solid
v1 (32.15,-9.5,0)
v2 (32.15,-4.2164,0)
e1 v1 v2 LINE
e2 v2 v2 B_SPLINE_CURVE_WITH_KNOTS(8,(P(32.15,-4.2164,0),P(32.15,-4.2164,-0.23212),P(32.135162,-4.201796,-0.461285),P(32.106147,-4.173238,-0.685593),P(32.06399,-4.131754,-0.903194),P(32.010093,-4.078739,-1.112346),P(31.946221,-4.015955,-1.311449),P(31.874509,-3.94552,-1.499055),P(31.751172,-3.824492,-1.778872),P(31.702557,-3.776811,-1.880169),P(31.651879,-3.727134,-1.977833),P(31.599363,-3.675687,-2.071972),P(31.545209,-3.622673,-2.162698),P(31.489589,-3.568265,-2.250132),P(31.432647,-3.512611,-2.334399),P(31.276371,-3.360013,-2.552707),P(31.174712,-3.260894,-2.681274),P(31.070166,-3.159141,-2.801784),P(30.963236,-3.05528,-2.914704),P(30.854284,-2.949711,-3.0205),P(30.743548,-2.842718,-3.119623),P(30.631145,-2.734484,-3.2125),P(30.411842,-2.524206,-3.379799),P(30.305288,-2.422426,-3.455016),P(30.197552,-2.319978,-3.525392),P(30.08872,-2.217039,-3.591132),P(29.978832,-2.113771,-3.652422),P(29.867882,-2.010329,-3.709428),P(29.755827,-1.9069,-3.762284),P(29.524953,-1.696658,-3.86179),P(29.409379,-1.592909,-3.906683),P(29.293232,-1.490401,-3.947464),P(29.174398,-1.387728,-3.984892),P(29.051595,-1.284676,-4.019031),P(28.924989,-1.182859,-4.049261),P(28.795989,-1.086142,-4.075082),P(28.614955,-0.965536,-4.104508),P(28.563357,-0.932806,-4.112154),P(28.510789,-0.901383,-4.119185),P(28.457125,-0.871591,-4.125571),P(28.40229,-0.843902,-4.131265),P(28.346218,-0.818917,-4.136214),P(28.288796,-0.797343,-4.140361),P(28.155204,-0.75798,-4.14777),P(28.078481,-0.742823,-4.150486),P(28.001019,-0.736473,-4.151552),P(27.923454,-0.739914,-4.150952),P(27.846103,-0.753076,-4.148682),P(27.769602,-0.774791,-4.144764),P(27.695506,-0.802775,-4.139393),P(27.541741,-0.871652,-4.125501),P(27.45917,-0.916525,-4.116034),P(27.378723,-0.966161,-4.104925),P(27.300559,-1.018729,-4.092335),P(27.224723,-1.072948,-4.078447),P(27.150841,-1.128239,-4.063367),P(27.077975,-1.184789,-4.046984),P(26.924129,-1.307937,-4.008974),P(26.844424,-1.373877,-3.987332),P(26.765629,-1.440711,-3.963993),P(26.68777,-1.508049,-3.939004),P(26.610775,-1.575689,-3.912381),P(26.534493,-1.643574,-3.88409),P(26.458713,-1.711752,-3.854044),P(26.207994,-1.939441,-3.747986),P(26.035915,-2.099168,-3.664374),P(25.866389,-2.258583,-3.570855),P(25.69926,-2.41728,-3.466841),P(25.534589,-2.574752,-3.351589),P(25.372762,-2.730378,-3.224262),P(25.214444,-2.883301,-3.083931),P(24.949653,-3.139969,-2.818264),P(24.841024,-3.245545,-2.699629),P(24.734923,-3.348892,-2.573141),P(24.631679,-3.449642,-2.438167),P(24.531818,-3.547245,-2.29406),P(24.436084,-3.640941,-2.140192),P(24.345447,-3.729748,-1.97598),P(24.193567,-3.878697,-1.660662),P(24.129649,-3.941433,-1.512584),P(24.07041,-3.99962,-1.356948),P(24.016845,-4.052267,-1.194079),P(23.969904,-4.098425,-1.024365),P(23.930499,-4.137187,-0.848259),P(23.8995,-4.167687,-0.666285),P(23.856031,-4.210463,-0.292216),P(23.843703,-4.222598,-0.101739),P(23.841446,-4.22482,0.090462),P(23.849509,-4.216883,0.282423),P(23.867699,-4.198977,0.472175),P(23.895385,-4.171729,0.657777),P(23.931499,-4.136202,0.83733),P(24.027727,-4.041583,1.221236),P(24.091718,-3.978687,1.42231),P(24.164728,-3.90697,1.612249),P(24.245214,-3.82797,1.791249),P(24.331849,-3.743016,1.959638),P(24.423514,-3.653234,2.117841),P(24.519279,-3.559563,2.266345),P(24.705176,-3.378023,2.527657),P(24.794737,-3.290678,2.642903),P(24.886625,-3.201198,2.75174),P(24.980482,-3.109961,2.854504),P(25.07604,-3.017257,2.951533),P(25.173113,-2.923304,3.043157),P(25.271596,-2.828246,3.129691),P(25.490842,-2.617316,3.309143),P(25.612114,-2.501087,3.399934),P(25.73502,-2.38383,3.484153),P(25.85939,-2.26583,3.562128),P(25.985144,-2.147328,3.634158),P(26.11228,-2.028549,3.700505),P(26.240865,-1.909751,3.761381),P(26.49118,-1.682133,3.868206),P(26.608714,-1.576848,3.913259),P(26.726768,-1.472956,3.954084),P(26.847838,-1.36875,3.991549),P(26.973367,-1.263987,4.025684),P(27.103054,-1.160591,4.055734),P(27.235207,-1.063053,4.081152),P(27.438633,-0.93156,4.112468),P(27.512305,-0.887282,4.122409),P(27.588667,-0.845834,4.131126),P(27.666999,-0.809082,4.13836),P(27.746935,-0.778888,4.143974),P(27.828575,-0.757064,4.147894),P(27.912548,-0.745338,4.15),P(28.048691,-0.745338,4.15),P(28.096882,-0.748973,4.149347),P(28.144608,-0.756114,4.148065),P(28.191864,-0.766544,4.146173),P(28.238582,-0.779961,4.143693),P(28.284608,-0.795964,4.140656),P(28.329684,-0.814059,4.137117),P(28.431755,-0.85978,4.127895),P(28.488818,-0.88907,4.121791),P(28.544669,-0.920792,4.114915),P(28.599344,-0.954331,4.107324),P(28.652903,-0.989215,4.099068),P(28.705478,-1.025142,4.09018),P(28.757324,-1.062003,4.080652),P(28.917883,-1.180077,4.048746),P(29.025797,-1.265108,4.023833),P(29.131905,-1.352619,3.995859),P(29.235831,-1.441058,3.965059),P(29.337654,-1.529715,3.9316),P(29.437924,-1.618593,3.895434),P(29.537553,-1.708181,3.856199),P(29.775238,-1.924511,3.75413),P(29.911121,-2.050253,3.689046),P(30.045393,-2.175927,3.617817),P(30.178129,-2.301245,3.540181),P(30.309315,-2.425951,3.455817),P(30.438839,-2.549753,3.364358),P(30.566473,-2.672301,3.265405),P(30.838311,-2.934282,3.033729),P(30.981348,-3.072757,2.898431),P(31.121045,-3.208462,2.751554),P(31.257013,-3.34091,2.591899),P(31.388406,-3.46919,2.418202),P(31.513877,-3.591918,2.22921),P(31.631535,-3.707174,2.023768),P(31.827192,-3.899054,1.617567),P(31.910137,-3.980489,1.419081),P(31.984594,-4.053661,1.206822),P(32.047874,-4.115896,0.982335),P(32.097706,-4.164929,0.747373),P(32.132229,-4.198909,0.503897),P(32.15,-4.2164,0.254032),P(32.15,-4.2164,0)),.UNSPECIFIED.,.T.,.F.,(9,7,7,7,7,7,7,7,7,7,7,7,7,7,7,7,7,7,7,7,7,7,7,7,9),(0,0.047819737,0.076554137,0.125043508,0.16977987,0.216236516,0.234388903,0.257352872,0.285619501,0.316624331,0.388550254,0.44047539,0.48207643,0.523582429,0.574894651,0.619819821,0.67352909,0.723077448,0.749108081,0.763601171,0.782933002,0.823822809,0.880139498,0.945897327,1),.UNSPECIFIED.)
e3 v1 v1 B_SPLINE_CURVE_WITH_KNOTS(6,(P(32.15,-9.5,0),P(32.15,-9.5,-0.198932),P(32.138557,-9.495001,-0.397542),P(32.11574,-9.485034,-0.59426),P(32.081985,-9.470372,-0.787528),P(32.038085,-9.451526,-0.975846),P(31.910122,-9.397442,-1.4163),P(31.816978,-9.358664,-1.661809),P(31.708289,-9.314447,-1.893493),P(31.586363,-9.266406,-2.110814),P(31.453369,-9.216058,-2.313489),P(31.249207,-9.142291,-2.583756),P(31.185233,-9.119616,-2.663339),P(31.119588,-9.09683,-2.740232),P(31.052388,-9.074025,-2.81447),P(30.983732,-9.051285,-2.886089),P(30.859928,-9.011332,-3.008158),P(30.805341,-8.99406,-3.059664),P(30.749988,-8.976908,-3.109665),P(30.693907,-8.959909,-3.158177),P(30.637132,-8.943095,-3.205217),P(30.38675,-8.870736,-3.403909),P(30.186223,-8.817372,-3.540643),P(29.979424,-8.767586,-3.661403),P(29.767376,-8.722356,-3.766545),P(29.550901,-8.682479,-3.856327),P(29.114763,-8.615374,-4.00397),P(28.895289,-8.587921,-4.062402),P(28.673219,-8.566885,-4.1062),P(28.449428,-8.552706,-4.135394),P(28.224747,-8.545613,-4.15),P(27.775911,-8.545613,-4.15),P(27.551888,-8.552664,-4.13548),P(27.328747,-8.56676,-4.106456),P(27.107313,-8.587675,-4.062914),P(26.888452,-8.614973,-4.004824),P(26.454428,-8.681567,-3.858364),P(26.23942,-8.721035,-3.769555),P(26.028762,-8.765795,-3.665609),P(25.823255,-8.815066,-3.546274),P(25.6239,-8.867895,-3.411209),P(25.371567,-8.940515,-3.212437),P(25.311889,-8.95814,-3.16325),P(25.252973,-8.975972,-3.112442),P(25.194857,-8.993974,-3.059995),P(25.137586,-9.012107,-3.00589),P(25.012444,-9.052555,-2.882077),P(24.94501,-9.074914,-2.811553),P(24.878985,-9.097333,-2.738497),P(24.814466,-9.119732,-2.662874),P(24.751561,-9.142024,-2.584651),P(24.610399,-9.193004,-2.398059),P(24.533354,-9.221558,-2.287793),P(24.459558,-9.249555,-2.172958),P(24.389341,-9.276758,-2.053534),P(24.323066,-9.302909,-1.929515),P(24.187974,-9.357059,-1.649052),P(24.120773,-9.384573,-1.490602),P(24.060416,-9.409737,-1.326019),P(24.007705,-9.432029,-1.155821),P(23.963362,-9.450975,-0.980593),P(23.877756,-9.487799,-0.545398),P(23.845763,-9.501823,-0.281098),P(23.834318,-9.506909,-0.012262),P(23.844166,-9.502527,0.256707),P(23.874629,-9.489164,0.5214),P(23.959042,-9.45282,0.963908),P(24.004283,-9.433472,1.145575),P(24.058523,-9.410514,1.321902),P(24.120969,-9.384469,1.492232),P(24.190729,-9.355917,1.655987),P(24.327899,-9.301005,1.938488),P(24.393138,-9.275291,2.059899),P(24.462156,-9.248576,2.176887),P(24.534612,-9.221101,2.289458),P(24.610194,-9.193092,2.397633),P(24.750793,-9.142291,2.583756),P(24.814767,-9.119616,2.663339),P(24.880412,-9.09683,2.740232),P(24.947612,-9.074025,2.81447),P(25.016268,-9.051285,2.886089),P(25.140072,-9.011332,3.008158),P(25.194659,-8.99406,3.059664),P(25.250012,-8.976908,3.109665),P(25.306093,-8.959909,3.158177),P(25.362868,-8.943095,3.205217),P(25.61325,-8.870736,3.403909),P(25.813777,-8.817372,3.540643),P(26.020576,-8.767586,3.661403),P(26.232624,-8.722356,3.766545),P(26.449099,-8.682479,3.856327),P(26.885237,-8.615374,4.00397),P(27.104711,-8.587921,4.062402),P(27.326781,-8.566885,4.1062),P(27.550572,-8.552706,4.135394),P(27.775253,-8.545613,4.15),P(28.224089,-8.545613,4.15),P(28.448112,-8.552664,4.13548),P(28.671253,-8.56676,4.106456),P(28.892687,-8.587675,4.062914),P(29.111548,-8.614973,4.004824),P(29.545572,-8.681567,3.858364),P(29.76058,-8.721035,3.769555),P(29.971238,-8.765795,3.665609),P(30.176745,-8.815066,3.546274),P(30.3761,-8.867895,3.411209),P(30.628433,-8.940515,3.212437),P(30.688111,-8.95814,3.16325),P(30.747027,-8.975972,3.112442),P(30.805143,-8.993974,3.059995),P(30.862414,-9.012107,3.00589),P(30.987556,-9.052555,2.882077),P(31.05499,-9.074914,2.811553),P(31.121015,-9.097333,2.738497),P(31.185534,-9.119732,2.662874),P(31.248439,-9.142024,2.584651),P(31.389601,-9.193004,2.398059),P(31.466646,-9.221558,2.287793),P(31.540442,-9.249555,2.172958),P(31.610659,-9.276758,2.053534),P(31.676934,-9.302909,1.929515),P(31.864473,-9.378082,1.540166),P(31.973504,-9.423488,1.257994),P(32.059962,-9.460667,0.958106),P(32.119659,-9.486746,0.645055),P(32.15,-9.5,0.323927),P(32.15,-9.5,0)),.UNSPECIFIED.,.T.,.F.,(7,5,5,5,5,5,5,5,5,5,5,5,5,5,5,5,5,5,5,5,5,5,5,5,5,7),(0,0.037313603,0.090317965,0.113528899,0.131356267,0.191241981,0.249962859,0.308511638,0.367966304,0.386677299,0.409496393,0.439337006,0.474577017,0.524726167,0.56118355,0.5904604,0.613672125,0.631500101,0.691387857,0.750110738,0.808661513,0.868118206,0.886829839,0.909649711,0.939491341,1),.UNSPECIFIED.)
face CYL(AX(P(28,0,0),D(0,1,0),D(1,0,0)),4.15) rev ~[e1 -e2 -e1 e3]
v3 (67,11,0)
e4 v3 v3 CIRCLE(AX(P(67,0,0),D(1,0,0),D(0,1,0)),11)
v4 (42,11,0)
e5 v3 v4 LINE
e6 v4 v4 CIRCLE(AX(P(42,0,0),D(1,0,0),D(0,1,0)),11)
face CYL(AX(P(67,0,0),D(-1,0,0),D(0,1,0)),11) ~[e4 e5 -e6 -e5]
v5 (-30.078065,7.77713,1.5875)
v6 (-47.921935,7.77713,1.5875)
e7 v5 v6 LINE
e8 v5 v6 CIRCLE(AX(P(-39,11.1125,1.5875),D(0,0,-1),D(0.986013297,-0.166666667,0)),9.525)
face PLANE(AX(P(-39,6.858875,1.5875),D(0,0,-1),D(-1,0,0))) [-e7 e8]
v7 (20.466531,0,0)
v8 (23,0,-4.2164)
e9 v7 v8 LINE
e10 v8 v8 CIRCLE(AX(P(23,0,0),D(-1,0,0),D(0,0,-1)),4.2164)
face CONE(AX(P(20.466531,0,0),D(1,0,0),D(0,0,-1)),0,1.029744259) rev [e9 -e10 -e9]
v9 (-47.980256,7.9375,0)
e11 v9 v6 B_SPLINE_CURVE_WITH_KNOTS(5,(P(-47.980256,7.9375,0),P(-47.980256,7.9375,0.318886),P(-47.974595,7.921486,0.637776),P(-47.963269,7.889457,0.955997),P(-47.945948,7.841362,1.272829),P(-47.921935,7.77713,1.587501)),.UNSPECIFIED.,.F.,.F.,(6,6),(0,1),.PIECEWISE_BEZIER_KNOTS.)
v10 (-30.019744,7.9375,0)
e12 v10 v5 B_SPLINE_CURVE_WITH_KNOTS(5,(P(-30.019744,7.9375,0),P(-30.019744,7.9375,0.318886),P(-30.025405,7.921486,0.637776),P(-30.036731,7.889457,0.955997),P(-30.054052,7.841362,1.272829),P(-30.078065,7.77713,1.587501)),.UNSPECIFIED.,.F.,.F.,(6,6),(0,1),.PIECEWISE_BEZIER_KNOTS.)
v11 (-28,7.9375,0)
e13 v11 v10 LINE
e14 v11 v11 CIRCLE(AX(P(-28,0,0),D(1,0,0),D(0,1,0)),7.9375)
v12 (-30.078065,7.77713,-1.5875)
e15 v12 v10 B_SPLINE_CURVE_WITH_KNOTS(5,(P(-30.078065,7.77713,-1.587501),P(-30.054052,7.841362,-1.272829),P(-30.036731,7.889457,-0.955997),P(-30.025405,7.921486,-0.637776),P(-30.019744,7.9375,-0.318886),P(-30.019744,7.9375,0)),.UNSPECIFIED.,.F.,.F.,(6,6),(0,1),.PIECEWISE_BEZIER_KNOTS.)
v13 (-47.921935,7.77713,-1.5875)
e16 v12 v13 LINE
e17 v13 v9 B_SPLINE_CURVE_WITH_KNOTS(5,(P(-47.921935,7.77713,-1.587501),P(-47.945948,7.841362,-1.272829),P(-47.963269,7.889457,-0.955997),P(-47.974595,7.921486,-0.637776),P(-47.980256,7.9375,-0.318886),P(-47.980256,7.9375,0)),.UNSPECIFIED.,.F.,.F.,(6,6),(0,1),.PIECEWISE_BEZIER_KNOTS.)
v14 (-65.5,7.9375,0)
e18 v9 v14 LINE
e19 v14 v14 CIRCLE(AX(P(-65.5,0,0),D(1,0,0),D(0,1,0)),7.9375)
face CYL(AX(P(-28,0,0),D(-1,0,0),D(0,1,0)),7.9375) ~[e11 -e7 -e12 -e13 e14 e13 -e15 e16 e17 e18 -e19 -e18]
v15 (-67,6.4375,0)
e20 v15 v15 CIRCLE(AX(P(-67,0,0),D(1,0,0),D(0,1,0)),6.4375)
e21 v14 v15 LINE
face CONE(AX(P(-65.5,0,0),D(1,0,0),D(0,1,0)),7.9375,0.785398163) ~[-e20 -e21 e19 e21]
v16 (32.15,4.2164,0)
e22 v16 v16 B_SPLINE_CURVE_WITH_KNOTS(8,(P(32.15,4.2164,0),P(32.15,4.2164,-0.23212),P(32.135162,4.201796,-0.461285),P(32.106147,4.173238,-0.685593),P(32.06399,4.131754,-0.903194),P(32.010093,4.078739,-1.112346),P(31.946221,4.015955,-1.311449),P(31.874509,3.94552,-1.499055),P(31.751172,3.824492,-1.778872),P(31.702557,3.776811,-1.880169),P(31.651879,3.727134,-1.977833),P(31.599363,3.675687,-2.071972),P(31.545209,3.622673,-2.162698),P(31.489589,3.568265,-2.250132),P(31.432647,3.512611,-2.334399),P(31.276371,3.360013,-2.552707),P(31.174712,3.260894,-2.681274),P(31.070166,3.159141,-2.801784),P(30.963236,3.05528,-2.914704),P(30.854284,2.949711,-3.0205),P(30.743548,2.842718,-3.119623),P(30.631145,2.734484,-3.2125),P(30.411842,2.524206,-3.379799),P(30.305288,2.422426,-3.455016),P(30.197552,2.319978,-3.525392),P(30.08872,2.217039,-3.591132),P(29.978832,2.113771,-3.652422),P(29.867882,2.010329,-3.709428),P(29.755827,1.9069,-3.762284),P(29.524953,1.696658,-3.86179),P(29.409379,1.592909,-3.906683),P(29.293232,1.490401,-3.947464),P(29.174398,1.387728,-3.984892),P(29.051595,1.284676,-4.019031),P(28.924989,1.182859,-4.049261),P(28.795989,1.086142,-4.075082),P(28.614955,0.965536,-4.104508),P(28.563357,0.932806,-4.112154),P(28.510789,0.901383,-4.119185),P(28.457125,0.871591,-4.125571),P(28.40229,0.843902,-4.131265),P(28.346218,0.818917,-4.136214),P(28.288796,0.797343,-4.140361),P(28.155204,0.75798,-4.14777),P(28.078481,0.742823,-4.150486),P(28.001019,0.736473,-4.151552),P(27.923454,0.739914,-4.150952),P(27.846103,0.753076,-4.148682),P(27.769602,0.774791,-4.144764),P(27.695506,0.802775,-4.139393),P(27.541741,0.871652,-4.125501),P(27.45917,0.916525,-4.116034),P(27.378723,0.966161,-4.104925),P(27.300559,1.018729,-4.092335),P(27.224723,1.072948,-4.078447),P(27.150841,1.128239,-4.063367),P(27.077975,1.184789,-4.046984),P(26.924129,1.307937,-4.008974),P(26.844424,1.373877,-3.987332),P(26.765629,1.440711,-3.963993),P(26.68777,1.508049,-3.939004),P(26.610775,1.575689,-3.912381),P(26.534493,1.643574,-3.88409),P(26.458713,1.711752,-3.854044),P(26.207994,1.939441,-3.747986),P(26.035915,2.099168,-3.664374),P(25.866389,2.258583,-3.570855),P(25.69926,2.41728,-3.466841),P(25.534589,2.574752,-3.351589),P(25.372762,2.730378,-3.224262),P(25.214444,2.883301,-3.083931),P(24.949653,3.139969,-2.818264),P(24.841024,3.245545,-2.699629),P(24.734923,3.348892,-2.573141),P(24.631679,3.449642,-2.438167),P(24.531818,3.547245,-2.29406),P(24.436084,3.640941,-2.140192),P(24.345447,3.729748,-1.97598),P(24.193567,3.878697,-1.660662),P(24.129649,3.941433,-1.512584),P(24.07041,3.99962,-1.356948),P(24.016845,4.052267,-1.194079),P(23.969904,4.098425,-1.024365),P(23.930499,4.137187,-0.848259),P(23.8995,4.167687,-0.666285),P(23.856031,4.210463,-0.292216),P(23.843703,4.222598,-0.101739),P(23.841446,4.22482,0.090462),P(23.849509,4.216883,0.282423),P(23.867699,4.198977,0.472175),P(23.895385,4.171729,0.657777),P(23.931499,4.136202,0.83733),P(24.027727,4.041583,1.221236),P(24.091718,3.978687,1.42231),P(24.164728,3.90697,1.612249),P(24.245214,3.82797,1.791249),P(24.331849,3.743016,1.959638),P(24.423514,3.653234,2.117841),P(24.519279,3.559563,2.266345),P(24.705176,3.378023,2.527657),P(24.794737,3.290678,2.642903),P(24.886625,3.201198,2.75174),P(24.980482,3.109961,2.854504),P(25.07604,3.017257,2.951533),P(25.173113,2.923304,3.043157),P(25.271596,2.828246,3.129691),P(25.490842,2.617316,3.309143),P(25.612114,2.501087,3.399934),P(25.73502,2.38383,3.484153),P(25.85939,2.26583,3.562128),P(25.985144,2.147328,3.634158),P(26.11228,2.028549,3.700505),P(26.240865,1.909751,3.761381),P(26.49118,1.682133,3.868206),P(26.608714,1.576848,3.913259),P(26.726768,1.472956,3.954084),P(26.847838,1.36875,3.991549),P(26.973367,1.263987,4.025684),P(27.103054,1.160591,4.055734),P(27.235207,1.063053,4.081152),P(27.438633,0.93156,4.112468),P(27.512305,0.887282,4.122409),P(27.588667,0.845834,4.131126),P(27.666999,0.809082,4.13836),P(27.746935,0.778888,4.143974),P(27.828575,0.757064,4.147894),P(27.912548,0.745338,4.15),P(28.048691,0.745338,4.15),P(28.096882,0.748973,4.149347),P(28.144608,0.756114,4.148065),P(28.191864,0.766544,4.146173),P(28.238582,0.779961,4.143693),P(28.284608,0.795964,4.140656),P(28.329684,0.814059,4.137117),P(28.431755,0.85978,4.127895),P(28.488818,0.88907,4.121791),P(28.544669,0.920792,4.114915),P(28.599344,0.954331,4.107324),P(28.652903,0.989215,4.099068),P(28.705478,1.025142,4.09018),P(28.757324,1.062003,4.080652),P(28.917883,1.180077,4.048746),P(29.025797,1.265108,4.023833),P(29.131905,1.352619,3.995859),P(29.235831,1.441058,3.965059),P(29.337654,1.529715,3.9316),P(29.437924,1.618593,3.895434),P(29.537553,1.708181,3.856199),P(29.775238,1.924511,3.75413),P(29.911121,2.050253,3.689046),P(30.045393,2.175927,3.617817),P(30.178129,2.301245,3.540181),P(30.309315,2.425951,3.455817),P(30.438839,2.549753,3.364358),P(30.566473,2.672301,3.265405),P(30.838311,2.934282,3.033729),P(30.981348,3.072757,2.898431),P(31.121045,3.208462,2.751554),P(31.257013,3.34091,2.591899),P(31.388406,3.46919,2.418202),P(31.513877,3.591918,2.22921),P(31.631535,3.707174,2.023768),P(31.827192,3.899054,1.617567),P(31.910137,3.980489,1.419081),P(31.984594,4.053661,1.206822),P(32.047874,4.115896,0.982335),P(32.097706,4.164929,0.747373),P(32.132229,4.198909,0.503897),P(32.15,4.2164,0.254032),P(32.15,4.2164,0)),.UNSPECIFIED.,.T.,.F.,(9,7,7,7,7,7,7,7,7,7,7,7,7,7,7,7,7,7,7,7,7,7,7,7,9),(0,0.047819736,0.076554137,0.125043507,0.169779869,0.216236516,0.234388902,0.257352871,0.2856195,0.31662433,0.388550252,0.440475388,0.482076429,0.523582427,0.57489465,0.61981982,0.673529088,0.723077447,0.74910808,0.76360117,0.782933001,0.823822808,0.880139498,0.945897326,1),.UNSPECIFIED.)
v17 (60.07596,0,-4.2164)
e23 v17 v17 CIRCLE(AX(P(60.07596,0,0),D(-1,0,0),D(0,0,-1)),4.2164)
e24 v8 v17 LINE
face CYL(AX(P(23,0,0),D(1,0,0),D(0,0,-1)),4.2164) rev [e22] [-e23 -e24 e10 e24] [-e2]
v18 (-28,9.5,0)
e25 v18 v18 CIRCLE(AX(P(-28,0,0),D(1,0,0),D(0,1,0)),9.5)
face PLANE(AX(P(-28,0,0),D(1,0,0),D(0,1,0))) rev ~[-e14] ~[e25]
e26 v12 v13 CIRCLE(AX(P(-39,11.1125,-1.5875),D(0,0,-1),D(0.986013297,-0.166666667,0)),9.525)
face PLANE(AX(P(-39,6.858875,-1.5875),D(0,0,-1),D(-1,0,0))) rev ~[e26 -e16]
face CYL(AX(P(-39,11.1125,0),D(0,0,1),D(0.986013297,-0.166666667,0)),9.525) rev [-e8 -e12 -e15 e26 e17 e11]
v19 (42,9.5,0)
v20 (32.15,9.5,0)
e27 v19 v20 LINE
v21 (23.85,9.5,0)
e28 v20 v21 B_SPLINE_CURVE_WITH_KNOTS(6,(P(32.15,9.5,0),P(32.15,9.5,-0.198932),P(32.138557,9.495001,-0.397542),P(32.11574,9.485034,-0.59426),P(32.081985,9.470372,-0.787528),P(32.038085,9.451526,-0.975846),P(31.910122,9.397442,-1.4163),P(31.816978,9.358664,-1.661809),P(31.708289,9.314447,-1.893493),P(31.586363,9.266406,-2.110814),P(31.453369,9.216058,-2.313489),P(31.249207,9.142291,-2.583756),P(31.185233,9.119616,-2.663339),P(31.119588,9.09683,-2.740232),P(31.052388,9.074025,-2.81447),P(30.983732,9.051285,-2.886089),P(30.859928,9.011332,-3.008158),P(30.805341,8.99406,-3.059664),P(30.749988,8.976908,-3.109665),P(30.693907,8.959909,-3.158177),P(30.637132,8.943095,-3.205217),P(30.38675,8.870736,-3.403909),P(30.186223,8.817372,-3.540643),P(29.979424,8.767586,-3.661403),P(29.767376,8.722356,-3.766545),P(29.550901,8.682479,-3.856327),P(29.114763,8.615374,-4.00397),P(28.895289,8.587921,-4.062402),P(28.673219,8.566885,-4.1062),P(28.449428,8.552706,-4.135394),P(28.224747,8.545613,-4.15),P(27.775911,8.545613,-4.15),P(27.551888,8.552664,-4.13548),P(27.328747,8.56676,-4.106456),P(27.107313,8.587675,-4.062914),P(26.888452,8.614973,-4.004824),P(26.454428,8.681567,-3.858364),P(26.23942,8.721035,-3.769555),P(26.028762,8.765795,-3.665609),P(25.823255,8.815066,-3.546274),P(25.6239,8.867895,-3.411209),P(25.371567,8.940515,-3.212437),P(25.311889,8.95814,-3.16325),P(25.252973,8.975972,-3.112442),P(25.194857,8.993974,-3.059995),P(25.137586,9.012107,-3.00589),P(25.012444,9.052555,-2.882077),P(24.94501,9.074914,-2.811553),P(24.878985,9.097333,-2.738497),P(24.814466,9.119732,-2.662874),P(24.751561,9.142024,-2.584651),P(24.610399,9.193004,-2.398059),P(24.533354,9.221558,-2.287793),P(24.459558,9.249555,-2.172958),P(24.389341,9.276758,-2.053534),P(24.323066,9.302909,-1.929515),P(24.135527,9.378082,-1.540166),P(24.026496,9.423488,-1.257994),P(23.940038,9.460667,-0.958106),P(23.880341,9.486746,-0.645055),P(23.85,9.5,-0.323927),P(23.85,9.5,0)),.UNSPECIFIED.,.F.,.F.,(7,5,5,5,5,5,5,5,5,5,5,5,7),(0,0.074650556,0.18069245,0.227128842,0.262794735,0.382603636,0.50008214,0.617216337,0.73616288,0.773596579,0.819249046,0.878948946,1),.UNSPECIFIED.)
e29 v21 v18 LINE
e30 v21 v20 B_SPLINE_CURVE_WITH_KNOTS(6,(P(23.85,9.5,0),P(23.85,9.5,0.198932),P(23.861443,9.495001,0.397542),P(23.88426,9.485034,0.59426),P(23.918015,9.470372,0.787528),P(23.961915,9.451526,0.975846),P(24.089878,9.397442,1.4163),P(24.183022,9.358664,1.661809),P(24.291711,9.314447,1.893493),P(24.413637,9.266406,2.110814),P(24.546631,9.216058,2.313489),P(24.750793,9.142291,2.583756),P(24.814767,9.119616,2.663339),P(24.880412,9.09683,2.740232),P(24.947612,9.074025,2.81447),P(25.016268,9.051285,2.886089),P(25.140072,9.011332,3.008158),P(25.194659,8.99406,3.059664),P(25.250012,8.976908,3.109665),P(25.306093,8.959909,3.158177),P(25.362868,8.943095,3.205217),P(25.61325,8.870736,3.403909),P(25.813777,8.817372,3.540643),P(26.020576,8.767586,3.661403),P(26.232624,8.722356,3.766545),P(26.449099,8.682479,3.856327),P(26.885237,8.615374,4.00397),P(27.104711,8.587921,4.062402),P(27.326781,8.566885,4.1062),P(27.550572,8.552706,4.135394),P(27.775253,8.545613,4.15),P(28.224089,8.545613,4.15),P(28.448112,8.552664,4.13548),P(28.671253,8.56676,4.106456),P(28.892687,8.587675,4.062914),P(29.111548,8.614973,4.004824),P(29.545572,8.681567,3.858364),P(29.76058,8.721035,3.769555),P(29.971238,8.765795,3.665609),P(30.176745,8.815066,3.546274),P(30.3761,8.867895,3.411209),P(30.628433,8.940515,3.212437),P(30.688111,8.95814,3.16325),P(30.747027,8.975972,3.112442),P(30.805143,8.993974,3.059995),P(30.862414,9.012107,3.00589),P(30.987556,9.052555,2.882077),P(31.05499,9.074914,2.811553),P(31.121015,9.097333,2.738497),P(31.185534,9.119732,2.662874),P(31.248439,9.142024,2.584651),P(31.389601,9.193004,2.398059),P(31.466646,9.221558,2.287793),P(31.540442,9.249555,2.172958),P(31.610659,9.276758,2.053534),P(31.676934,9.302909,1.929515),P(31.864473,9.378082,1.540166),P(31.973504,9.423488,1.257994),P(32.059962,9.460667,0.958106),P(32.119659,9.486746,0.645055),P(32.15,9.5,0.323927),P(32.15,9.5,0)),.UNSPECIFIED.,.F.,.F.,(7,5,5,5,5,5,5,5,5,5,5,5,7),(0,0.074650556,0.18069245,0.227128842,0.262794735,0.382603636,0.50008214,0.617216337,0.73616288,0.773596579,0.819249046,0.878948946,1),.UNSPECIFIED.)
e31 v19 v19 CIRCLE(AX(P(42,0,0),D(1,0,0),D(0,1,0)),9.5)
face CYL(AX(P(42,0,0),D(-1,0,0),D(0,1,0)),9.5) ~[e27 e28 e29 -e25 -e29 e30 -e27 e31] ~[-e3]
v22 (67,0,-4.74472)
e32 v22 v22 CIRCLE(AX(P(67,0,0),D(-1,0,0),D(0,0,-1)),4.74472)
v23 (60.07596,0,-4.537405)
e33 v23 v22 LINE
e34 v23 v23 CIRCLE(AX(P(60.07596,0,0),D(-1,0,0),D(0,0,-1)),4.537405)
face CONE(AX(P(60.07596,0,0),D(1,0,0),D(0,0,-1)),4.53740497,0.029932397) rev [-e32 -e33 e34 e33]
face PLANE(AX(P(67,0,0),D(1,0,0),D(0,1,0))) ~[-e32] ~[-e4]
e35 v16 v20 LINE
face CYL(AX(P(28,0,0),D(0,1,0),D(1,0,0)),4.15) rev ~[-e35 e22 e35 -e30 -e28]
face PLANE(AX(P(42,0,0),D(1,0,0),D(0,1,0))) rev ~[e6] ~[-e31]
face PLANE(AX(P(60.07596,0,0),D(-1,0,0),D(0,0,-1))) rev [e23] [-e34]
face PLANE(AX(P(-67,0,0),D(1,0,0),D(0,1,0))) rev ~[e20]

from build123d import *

# Parameters (mm, degrees)
SKETCH4_R          = 4.15
CUT_EXTRUDE1_DEPTH = 15
CHAMFER1_SIZE      = 1.5
CUT_EXTRUDE2_DEPTH = 1.5875


with BuildPart() as part:
    # Sketch1 → Revolve1 (revolve)
    with BuildSketch(Plane.XY):
        Polygon((-67, 0), (67, 0), (67, 11), (42, 11), (42, 9.5), (-28, 9.5), (-28, 7.9375), (-67, 7.9375), align=None)
    revolve(axis=Axis((-84.93546187, 0, 0), (1, 0, 0)))

    # Sketch2 → 1/8 NPT Tapped Hole1 (revolve, cut)
    with BuildSketch(Plane(origin=(67, 0, 0), x_dir=(0, 0, -1), z_dir=(0, 1, 0))):
        Polygon((0, 0), (0, 46.533468714), (4.2164, 44), (4.2164, 6.92404), (4.53740497, 6.92404), (4.74472, 0), align=None)
    revolve(axis=Axis((73.35, 0, 0), (-1, 0, 0)), mode=Mode.SUBTRACT)

    # Sketch4 → Cut-Extrude1 (cut, symmetric)
    with BuildSketch(Plane(origin=(0, 0, 0), x_dir=(1, 0, 0), z_dir=(0, 1, 0))):
        with Locations((28, 0)):
            Circle(SKETCH4_R)
    extrude(amount=CUT_EXTRUDE1_DEPTH, both=True, mode=Mode.SUBTRACT)

    # Chamfer1
    chamfer1_edges = [part.edges().sort_by_distance(p)[0] for p in [
        (-67, -7.9375, 0),
    ]]
    chamfer(chamfer1_edges, length=CHAMFER1_SIZE)

    # Sketch7 → Cut-Extrude2 (cut, symmetric)
    with BuildSketch(Plane.XY):
        with BuildLine():
            Line((-48.391776656, 9.525), (-29.608223344, 9.525))
            ThreePointArc((-29.608223344, 9.525), (-39, 1.5875), (-48.391776656, 9.525))
        make_face()
    extrude(amount=CUT_EXTRUDE2_DEPTH, both=True, mode=Mode.SUBTRACT)


solid = part.part
